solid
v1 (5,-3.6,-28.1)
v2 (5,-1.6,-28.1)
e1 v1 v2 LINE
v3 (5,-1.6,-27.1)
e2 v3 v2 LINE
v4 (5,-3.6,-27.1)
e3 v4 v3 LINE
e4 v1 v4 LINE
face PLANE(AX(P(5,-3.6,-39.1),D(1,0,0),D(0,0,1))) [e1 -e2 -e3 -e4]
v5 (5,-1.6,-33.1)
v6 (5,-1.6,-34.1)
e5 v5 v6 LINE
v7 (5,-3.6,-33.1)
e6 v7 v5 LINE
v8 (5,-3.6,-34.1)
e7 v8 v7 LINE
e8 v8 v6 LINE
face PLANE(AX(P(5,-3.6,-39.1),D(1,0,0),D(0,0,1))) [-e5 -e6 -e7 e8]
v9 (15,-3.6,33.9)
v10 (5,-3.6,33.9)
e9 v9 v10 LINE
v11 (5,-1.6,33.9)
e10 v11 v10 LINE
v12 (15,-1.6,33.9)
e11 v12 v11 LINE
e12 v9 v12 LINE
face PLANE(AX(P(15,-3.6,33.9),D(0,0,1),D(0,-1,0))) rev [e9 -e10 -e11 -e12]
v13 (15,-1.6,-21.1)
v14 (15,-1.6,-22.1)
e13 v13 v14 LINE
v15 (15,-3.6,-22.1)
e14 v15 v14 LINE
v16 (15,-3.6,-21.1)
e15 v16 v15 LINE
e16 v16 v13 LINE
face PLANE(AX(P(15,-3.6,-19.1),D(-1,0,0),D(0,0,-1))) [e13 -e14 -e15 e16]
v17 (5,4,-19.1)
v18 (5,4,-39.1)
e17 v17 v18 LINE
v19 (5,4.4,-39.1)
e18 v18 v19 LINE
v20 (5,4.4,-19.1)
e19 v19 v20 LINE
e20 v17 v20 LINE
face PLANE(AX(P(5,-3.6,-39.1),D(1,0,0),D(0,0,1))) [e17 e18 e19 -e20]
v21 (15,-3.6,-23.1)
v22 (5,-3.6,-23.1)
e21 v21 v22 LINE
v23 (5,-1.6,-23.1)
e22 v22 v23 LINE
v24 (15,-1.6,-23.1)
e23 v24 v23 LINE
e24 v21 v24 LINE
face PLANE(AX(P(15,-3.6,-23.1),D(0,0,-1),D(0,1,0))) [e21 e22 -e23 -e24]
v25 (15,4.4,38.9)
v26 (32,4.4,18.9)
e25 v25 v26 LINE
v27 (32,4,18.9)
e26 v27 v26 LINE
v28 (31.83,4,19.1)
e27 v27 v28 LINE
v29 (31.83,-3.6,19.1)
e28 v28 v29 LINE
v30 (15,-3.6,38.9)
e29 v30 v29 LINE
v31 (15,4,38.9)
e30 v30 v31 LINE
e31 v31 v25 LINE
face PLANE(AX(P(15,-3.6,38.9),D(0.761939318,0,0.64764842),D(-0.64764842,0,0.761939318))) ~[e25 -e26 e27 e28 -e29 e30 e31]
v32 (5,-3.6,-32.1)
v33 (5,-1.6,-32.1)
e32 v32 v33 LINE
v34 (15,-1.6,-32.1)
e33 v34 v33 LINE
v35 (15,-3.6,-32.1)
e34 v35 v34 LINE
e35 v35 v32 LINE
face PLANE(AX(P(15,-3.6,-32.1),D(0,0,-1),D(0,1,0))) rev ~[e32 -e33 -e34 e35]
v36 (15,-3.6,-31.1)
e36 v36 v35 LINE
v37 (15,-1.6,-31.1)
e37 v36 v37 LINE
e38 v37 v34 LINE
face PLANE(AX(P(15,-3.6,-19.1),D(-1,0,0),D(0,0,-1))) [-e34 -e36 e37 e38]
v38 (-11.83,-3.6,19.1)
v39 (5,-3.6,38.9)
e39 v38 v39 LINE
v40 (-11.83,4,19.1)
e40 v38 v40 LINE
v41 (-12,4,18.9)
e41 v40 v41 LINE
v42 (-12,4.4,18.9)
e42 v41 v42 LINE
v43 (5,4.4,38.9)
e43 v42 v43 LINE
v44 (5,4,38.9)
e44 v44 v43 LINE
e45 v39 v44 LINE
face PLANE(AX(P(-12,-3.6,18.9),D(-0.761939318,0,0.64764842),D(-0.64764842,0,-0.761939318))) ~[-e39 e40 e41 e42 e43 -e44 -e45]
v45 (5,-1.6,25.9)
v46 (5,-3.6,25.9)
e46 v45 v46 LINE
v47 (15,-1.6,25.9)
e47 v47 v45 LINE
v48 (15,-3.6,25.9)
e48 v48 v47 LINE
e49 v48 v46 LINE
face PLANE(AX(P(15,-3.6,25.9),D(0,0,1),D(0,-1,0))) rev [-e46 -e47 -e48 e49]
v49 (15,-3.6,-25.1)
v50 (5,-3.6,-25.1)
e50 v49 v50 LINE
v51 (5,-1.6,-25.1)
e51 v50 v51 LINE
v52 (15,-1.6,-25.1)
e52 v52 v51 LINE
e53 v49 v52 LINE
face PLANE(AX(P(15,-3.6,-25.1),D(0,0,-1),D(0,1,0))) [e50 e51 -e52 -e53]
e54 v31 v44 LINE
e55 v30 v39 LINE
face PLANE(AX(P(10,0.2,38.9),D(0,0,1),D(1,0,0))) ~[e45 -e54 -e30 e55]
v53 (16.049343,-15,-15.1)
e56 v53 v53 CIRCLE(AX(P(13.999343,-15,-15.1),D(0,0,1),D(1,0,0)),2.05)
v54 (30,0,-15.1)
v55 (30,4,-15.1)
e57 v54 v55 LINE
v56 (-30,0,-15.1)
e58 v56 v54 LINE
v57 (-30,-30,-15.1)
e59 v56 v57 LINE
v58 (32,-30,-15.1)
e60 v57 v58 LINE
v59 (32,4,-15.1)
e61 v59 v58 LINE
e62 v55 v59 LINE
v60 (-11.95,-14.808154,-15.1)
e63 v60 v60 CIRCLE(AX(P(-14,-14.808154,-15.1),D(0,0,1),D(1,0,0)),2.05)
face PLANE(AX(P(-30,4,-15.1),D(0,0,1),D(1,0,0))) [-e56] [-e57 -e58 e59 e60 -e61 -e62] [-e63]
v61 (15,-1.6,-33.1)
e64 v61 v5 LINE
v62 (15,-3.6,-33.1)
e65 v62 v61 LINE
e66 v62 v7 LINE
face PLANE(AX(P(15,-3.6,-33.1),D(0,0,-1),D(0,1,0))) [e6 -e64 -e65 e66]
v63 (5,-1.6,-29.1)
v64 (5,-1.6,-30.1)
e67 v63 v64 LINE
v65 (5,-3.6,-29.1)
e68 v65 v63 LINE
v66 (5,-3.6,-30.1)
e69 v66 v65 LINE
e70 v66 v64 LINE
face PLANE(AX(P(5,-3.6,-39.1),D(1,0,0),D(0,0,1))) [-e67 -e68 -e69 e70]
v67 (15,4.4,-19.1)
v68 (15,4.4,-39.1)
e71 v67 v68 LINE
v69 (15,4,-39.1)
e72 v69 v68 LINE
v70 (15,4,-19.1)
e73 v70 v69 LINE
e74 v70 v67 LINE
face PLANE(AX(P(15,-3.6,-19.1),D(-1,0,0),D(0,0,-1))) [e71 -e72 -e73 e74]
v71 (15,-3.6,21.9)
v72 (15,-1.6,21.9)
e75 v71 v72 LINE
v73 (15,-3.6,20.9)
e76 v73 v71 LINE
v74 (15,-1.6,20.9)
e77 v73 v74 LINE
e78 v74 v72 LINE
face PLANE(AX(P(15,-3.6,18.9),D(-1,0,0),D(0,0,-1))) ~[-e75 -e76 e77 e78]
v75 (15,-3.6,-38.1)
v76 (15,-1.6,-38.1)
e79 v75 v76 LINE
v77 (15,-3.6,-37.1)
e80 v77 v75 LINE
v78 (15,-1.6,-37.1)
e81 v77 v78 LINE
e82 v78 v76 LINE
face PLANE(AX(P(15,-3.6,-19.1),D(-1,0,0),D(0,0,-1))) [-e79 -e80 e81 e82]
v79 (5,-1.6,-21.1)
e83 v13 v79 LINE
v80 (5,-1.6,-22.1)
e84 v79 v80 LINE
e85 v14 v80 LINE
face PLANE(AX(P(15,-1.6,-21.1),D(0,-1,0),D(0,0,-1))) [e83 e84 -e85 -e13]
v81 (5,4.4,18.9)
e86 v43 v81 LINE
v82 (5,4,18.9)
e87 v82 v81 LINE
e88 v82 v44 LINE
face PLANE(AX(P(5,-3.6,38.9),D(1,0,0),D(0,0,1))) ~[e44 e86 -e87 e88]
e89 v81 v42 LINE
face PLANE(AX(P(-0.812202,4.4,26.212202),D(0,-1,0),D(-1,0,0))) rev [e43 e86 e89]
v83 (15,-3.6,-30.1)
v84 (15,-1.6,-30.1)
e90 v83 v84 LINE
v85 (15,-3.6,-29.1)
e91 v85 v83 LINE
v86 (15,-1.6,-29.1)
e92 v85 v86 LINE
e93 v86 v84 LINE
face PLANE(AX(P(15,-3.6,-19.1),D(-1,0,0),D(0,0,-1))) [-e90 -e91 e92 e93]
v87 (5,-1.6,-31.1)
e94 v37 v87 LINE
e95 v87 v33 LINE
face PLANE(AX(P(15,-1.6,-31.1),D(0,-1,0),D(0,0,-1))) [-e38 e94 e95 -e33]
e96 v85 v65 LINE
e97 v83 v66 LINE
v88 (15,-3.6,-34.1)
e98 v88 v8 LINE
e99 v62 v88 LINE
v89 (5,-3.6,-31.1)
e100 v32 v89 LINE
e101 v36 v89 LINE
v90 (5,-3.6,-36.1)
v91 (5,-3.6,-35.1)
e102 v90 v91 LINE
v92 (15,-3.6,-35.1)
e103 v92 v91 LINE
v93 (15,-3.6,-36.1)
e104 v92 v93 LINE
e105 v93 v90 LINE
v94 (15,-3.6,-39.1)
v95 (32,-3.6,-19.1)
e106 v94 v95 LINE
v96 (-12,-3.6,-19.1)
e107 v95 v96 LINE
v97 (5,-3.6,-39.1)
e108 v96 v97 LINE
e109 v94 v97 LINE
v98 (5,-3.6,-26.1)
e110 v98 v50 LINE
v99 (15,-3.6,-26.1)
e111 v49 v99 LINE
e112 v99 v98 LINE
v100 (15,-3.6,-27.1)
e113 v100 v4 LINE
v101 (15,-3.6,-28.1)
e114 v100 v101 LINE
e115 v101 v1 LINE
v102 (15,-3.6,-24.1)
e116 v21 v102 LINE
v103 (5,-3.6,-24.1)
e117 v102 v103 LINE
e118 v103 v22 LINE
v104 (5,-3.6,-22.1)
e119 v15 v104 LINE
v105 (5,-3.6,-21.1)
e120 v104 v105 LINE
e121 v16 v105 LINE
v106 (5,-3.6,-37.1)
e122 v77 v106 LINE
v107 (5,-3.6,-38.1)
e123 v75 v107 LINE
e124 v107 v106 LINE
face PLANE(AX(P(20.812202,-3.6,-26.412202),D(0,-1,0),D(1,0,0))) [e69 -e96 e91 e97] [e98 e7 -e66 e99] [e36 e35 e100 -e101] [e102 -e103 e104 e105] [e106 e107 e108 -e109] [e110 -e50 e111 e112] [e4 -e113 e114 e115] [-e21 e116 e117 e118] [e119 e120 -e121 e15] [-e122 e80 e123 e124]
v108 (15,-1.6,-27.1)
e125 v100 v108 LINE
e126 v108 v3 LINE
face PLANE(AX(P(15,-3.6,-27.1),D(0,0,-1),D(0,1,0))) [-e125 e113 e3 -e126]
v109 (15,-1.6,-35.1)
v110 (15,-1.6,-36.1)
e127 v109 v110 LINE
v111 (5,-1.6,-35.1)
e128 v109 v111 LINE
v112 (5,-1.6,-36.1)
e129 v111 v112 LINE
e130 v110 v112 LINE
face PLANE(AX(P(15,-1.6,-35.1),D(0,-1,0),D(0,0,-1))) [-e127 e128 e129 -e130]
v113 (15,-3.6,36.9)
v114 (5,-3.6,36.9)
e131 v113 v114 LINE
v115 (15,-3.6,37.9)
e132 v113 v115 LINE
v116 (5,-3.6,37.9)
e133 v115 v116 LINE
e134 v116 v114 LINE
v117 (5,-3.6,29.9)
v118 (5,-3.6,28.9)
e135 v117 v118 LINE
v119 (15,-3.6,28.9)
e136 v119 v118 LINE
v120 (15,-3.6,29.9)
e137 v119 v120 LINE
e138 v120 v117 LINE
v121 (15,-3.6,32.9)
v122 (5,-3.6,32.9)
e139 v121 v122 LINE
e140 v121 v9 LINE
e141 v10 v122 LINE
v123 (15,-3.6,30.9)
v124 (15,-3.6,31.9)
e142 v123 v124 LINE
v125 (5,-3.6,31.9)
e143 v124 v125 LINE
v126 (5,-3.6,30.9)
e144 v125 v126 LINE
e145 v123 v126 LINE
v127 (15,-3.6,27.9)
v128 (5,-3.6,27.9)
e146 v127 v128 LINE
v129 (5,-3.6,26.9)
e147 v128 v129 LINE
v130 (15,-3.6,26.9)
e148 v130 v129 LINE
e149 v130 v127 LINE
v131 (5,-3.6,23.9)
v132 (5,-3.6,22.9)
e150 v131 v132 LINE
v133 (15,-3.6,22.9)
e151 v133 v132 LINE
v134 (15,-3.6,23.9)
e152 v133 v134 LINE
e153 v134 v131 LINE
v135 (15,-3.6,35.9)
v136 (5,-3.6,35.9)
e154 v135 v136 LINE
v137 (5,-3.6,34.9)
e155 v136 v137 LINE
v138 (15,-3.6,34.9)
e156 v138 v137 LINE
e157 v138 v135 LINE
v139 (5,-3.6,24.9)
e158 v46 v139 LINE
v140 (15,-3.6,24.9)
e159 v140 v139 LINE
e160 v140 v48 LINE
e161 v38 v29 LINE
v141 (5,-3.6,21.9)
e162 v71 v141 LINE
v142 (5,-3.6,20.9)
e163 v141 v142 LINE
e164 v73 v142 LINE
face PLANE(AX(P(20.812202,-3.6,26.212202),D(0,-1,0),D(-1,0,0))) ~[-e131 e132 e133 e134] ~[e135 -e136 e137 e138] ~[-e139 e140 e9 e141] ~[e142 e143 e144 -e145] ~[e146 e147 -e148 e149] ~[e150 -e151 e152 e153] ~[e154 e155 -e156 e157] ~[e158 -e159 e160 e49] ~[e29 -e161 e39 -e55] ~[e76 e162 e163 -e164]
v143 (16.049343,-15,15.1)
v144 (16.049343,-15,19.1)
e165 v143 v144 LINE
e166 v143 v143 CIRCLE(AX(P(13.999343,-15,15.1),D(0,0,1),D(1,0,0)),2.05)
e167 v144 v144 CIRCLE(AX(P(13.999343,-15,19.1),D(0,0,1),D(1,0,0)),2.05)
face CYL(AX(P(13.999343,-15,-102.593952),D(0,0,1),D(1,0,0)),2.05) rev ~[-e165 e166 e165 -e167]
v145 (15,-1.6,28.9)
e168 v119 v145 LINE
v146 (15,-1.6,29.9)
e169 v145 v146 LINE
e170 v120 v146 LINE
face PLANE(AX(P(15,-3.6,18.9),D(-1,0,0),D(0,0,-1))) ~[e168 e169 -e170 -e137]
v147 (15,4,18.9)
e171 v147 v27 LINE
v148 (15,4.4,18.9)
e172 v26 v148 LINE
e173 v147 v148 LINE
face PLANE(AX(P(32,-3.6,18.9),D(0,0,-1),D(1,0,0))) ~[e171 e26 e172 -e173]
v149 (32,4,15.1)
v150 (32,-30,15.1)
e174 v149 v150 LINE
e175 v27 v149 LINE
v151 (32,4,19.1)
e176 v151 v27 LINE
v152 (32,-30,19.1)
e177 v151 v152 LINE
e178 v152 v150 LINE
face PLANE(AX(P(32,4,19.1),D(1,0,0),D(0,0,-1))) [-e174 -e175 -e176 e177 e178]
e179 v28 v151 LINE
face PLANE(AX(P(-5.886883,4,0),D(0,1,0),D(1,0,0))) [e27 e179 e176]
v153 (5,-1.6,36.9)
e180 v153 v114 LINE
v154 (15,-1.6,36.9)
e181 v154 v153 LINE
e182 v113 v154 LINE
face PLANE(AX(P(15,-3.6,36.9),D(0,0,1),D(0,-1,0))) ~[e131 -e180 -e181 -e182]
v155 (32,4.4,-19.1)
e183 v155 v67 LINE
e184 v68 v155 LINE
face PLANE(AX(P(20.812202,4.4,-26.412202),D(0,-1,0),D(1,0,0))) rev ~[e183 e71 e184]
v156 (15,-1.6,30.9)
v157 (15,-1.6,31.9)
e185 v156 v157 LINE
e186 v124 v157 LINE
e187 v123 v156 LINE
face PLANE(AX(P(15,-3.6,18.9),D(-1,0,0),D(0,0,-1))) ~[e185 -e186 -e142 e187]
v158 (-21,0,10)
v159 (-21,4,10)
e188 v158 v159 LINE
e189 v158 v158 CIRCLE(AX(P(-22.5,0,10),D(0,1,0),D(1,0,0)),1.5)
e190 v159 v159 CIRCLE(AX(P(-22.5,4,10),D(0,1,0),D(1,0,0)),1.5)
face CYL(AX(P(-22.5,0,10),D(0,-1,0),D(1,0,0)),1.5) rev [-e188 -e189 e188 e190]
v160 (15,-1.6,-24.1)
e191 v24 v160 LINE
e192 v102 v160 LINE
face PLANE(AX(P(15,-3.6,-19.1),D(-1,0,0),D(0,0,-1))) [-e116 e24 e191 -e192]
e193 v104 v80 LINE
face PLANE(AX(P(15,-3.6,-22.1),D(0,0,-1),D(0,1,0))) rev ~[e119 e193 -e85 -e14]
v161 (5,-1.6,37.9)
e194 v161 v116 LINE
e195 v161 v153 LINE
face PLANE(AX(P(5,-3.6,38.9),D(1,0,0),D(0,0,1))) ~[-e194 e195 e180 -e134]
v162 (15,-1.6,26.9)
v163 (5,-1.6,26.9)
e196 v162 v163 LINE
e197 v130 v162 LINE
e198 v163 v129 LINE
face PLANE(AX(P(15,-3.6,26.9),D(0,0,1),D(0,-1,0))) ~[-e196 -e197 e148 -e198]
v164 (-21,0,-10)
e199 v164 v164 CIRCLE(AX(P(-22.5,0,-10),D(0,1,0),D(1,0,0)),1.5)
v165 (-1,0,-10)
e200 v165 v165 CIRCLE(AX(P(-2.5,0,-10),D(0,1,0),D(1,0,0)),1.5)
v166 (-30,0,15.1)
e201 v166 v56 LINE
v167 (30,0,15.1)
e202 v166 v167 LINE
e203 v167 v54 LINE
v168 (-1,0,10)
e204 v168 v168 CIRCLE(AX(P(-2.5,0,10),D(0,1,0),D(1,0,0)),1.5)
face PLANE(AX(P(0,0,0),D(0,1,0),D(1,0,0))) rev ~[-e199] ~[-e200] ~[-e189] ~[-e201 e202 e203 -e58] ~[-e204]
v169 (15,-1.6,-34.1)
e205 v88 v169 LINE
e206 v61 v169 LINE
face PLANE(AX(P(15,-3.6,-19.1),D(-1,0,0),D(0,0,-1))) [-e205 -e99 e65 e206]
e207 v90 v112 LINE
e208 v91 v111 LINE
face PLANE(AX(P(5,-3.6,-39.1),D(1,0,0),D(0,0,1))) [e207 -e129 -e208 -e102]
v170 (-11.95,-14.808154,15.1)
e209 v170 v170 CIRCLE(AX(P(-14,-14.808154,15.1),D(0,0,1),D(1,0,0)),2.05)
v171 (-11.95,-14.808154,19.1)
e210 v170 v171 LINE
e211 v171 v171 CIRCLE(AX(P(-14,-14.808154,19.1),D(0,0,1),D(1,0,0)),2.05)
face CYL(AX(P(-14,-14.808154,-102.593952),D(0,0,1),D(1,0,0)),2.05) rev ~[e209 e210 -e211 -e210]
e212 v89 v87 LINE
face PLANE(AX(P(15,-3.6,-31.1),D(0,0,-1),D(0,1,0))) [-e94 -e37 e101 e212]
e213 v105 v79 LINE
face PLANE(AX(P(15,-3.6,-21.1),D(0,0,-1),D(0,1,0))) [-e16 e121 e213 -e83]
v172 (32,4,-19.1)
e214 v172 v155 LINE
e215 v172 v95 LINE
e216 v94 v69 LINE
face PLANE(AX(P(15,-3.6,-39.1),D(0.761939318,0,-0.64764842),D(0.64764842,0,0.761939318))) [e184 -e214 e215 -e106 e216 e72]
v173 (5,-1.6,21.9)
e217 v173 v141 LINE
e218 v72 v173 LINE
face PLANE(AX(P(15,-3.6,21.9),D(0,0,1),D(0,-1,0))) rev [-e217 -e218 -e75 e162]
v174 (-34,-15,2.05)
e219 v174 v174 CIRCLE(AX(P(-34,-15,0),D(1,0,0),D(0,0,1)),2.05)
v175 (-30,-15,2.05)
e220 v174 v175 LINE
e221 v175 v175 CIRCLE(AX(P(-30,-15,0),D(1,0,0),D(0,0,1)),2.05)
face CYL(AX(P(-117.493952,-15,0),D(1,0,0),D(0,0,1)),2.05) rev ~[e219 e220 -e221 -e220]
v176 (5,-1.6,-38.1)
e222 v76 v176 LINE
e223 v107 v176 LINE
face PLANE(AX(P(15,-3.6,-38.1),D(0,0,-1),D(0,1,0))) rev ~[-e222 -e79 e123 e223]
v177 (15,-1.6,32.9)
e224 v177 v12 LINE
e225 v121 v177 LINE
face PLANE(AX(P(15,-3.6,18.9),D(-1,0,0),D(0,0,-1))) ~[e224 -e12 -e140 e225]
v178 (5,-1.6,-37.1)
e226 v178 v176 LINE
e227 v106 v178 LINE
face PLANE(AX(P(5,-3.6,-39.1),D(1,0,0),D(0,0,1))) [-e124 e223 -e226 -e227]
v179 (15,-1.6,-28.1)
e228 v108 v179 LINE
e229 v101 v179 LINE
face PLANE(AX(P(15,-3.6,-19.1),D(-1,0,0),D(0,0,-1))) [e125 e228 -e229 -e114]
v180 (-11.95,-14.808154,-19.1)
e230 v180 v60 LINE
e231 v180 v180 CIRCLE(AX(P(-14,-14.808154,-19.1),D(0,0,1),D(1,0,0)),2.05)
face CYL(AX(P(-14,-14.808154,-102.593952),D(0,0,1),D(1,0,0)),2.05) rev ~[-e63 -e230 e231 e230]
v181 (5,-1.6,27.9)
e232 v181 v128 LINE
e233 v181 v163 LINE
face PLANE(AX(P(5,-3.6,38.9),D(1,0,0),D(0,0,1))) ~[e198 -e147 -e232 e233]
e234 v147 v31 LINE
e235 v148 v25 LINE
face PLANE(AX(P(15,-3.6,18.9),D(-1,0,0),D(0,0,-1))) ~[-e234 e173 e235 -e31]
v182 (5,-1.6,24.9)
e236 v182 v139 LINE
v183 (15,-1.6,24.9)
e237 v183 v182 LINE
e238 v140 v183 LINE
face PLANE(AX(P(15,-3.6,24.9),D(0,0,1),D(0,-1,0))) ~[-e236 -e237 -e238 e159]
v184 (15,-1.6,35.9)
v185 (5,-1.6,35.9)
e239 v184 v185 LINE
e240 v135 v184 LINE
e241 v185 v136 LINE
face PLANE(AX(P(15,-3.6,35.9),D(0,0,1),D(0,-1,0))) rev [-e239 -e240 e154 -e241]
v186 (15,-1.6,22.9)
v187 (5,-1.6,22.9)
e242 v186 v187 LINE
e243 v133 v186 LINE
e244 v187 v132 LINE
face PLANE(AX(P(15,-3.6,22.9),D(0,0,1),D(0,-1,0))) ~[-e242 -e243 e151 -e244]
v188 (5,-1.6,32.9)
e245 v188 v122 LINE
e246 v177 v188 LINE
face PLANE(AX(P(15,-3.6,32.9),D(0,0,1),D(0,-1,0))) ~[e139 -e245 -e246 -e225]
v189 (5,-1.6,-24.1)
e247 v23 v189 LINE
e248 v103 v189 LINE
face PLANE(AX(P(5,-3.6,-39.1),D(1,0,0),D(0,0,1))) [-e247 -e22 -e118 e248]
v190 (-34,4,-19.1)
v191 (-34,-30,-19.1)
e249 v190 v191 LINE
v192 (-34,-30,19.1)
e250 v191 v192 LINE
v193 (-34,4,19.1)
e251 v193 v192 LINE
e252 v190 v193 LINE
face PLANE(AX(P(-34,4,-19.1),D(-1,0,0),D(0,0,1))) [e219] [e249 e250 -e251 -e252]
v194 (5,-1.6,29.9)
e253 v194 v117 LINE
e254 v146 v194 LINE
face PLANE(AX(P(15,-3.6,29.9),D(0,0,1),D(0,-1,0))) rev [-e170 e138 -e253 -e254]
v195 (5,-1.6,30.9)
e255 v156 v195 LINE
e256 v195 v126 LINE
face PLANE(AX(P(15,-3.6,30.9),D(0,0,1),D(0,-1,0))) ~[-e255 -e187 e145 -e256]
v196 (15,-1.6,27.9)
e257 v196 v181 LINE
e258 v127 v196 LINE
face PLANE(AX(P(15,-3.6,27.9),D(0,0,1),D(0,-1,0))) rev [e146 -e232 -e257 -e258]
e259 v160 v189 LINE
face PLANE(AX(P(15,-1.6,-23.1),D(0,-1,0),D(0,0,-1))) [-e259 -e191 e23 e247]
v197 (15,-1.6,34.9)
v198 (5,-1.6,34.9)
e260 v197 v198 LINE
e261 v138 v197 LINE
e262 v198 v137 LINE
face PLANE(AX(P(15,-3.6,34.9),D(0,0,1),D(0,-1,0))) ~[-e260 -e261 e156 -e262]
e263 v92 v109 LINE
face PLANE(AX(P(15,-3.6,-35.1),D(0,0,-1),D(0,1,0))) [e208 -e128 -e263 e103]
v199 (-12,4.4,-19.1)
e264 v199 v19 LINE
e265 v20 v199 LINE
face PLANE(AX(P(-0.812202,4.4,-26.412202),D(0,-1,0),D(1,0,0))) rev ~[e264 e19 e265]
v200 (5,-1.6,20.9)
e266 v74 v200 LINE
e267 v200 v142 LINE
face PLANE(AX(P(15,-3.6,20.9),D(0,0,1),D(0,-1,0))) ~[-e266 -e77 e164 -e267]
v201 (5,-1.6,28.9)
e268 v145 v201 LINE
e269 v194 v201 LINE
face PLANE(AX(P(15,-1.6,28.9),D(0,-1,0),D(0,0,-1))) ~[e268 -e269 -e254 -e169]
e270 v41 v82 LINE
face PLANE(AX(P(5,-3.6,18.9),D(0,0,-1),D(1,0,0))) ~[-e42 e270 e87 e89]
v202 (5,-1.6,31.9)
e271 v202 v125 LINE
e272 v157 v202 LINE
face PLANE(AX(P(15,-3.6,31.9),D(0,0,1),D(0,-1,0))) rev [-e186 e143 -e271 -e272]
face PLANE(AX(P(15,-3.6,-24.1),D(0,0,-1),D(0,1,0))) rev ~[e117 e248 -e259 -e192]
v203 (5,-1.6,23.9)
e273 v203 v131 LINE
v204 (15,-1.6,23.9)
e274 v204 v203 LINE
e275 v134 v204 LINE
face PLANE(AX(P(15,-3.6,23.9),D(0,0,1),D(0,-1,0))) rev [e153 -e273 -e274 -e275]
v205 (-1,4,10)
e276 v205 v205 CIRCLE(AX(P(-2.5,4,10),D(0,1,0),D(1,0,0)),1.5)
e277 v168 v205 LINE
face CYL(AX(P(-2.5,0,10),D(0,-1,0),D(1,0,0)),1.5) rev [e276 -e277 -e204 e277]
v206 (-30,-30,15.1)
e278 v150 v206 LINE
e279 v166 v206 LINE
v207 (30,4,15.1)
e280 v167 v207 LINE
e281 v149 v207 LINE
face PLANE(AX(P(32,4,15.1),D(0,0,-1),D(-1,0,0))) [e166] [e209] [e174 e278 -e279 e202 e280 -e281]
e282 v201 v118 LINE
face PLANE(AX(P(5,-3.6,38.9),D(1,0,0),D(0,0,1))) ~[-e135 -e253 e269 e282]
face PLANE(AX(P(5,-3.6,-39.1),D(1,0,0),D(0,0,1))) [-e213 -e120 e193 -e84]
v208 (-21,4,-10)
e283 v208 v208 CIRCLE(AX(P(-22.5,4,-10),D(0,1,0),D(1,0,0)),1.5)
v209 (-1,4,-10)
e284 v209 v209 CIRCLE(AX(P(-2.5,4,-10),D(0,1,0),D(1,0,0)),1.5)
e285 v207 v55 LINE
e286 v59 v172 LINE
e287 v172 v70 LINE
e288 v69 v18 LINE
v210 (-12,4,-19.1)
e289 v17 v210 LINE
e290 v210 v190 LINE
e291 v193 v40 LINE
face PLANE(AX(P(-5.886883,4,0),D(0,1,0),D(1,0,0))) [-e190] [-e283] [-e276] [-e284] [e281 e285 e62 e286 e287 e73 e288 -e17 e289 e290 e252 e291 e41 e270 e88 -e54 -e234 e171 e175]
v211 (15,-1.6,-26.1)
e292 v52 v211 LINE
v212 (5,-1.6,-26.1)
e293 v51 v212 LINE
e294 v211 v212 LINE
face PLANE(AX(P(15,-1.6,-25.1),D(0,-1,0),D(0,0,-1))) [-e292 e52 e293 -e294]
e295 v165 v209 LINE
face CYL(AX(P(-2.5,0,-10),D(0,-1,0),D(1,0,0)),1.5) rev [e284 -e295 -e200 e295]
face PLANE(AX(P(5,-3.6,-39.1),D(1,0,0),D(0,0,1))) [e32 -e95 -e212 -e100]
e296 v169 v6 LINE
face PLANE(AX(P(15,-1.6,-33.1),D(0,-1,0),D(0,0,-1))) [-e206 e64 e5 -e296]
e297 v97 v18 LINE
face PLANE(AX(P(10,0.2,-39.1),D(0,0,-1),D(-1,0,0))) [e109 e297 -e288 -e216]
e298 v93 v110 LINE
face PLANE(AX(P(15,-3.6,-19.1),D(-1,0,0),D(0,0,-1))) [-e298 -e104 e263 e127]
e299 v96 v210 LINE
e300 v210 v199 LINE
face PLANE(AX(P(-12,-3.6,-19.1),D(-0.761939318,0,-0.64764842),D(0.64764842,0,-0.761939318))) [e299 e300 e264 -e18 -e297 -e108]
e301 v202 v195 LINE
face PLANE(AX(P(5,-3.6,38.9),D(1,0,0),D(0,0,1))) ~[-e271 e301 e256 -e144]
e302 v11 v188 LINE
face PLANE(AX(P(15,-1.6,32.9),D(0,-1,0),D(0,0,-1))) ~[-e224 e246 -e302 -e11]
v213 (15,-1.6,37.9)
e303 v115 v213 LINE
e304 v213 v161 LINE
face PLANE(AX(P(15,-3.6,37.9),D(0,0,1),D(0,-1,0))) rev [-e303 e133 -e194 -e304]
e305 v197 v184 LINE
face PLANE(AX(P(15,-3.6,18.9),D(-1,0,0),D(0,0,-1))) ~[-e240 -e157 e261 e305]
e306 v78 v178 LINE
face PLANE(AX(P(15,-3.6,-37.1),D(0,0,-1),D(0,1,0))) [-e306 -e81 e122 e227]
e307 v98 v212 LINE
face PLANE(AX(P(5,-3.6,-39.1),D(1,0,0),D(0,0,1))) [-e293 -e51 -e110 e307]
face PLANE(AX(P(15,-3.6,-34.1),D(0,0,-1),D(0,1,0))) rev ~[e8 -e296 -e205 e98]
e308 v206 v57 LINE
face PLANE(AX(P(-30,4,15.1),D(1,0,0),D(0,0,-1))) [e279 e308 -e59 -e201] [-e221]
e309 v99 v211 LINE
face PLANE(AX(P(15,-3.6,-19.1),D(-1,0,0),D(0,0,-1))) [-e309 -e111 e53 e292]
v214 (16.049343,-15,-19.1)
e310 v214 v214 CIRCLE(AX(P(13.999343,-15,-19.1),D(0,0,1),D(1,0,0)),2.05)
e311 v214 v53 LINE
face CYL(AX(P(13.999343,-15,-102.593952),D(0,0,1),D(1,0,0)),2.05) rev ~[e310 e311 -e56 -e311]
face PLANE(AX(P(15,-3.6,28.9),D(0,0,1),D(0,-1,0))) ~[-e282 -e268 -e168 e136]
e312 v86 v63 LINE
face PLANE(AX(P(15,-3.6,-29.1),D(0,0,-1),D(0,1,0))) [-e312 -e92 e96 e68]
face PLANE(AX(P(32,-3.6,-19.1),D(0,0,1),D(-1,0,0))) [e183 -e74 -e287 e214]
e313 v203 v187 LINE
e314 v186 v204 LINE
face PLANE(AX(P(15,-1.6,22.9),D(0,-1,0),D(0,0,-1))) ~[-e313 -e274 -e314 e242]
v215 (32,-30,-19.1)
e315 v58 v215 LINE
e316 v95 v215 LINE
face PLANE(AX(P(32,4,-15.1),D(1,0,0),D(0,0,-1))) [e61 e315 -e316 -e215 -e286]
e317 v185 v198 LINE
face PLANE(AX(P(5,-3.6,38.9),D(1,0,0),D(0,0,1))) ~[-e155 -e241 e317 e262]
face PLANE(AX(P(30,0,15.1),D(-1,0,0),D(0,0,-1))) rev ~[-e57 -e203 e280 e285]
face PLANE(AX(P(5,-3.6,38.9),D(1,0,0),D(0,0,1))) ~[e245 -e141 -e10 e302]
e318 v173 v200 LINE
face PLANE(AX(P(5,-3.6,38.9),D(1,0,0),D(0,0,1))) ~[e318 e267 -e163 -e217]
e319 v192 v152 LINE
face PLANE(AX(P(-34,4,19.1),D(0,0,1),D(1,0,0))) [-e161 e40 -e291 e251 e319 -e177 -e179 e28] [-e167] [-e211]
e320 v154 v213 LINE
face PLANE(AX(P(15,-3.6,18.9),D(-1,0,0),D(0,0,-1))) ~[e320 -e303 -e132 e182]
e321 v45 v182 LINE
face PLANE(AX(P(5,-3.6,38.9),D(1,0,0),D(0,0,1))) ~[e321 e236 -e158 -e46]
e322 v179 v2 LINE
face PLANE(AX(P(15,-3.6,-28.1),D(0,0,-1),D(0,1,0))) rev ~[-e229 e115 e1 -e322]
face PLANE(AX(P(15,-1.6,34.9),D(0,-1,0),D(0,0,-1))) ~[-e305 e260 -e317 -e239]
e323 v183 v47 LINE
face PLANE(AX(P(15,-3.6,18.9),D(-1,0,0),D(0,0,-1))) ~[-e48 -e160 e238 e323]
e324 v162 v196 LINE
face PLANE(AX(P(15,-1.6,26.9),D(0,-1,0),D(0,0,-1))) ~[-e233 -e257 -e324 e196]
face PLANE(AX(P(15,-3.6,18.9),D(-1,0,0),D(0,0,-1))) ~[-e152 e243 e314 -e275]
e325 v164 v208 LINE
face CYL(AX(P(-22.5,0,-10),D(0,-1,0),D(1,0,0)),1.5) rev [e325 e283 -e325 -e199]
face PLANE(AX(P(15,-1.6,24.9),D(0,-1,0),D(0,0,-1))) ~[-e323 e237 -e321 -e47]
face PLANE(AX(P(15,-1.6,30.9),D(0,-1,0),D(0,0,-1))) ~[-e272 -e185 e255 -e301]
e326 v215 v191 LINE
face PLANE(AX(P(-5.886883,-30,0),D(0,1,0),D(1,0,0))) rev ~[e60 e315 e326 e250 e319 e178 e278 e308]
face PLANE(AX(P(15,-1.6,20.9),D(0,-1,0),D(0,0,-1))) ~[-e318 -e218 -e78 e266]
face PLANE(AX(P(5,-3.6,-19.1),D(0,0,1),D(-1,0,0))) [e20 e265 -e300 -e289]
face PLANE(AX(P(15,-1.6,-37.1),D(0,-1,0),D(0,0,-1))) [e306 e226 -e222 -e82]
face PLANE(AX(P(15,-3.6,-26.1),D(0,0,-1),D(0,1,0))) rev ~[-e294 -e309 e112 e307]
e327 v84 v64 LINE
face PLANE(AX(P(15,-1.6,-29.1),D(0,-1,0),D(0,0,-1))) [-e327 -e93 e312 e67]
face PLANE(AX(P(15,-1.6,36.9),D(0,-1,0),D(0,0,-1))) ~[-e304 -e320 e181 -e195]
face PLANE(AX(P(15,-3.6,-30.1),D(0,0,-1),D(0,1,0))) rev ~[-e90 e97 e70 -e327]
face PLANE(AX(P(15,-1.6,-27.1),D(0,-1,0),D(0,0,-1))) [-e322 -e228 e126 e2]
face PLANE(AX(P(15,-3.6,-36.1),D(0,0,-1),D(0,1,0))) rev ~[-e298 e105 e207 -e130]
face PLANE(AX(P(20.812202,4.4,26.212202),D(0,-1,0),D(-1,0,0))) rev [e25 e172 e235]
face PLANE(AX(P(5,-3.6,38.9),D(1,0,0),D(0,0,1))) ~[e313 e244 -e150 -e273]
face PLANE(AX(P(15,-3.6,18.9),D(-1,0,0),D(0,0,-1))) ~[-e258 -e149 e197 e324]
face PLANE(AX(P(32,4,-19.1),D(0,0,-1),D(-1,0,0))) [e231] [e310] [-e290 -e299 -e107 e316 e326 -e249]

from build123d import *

# Parameters (mm, degrees)
SKIZZE1_W                                  = 60
SKIZZE1_H                                  = 30.2
SKIZZE1_R                                  = 1.5
AUFSATZ_LINEAR_AUSTRAGEN1_DEPTH            = 4
LINEAR_AUSTRAGEN_D_NN1_DEPTH               = 34
F_4_1_4_1_DURCHMESSER_BOHRUNG1_D           = 4.1
F_4_1_4_1_DURCHMESSER_BOHRUNG1_ON_FACE_2_D = 4.1
SKIZZE4_W                                  = 10
SKIZZE4_H                                  = 7.6
AUFSATZ_LINEAR_AUSTRAGEN3_DEPTH            = 20
SKIZZE5_W                                  = 1
SKIZZE5_H                                  = 2
SCHNITT_LINEAR_AUSTRAGEN1_DEPTH            = 20
AUFSATZ_LINEAR_AUSTRAGEN4_DEPTH            = 8


with BuildPart() as part:
    # Skizze1 → Aufsatz-Linear austragen1 (new body)
    with BuildSketch(Plane(origin=(0, 0, 0), x_dir=(1, 0, 0), z_dir=(0, 1, 0))):
        Rectangle(SKIZZE1_W, SKIZZE1_H)
        with Locations((-22.5, 10)):
            Circle(SKIZZE1_R, mode=Mode.SUBTRACT)
        with Locations((-22.5, -10)):
            Circle(SKIZZE1_R, mode=Mode.SUBTRACT)
        with Locations((-2.5, 10)):
            Circle(SKIZZE1_R, mode=Mode.SUBTRACT)
        with Locations((-2.5, -10)):
            Circle(SKIZZE1_R, mode=Mode.SUBTRACT)
    extrude(amount=AUFSATZ_LINEAR_AUSTRAGEN1_DEPTH)

    # Skizze2 → Linear-Austragen-Dünn1 (add)
    with BuildSketch(Plane(origin=(0, 4, 0), x_dir=(1, 0, 0), z_dir=(0, 1, 0))):
        Polygon((32, -15.1), (-30, -15.1), (-30, 15.1), (32, 15.1), (32, 19.1), (-34, 19.1), (-34, -19.1), (32, -19.1), align=None)
    extrude(amount=-LINEAR_AUSTRAGEN_D_NN1_DEPTH)

    # Ø4.1 (4.1) Durchmesser Bohrung1 (through all)
    with Locations(Plane(origin=(-14, -14.808153884, -19.1), x_dir=(-1, 0, 0), z_dir=(0, 0, -1))):
        with Locations((0, 0), (-27.999342761, -0.191846116)):
            Hole(F_4_1_4_1_DURCHMESSER_BOHRUNG1_D / 2)

    # Ø4.1 (4.1) Durchmesser Bohrung1 on face 2 (through all)
    with Locations(Plane(origin=(-34, -15, 0), x_dir=(0, 0, -1), z_dir=(-1, 0, 0))):
        with Locations((0, 0)):
            Hole(F_4_1_4_1_DURCHMESSER_BOHRUNG1_ON_FACE_2_D / 2)

    # Skizze4 → Aufsatz-Linear austragen3 (add)
    with BuildSketch(Plane(origin=(0, 0, -19.1), x_dir=(-1, 0, 0), z_dir=(0, 0, -1))):
        with Locations((-10, 0.2)):
            Rectangle(SKIZZE4_W, SKIZZE4_H)
    aufsatz_linear_austragen3 = extrude(amount=AUFSATZ_LINEAR_AUSTRAGEN3_DEPTH)

    # Skizze5 → Schnitt-Linear austragen1 (cut)
    with BuildSketch(Plane(origin=(15, 0, 0), x_dir=(0, 0, -1), z_dir=(1, 0, 0))):
        with Locations((37.6, -2.6)):
            Rectangle(SKIZZE5_W, SKIZZE5_H)
        with Locations((35.6, -2.6)):
            Rectangle(SKIZZE5_W, SKIZZE5_H)
        with Locations((33.6, -2.6)):
            Rectangle(SKIZZE5_W, SKIZZE5_H)
        with Locations((31.6, -2.6)):
            Rectangle(SKIZZE5_W, SKIZZE5_H)
        with Locations((29.6, -2.6)):
            Rectangle(SKIZZE5_W, SKIZZE5_H)
        with Locations((27.6, -2.6)):
            Rectangle(SKIZZE5_W, SKIZZE5_H)
        with Locations((25.6, -2.6)):
            Rectangle(SKIZZE5_W, SKIZZE5_H)
        with Locations((23.6, -2.6)):
            Rectangle(SKIZZE5_W, SKIZZE5_H)
        with Locations((21.6, -2.6)):
            Rectangle(SKIZZE5_W, SKIZZE5_H)
    schnitt_linear_austragen1 = extrude(amount=-SCHNITT_LINEAR_AUSTRAGEN1_DEPTH, mode=Mode.SUBTRACT)

    # Skizze6 → Aufsatz-Linear austragen4 (add)
    with BuildSketch(Plane.XZ.offset(3.6)):
        Polygon((15, -39.1), (32, -19.1), (15, -19.1), align=None)
        Polygon((5, -39.1), (5, -19.1), (-12, -19.1), align=None)
    aufsatz_linear_austragen4 = extrude(amount=-AUFSATZ_LINEAR_AUSTRAGEN4_DEPTH)

    # Spiegeln1: Aufsatz-Linear austragen3, Schnitt-Linear austragen1, Aufsatz-Linear austragen4 across plane
    add(aufsatz_linear_austragen3.mirror(Plane.XY.offset(-0.1)))
    add(schnitt_linear_austragen1.mirror(Plane.XY.offset(-0.1)), mode=Mode.SUBTRACT)
    add(aufsatz_linear_austragen4.mirror(Plane.XY.offset(-0.1)))


solid = part.part
